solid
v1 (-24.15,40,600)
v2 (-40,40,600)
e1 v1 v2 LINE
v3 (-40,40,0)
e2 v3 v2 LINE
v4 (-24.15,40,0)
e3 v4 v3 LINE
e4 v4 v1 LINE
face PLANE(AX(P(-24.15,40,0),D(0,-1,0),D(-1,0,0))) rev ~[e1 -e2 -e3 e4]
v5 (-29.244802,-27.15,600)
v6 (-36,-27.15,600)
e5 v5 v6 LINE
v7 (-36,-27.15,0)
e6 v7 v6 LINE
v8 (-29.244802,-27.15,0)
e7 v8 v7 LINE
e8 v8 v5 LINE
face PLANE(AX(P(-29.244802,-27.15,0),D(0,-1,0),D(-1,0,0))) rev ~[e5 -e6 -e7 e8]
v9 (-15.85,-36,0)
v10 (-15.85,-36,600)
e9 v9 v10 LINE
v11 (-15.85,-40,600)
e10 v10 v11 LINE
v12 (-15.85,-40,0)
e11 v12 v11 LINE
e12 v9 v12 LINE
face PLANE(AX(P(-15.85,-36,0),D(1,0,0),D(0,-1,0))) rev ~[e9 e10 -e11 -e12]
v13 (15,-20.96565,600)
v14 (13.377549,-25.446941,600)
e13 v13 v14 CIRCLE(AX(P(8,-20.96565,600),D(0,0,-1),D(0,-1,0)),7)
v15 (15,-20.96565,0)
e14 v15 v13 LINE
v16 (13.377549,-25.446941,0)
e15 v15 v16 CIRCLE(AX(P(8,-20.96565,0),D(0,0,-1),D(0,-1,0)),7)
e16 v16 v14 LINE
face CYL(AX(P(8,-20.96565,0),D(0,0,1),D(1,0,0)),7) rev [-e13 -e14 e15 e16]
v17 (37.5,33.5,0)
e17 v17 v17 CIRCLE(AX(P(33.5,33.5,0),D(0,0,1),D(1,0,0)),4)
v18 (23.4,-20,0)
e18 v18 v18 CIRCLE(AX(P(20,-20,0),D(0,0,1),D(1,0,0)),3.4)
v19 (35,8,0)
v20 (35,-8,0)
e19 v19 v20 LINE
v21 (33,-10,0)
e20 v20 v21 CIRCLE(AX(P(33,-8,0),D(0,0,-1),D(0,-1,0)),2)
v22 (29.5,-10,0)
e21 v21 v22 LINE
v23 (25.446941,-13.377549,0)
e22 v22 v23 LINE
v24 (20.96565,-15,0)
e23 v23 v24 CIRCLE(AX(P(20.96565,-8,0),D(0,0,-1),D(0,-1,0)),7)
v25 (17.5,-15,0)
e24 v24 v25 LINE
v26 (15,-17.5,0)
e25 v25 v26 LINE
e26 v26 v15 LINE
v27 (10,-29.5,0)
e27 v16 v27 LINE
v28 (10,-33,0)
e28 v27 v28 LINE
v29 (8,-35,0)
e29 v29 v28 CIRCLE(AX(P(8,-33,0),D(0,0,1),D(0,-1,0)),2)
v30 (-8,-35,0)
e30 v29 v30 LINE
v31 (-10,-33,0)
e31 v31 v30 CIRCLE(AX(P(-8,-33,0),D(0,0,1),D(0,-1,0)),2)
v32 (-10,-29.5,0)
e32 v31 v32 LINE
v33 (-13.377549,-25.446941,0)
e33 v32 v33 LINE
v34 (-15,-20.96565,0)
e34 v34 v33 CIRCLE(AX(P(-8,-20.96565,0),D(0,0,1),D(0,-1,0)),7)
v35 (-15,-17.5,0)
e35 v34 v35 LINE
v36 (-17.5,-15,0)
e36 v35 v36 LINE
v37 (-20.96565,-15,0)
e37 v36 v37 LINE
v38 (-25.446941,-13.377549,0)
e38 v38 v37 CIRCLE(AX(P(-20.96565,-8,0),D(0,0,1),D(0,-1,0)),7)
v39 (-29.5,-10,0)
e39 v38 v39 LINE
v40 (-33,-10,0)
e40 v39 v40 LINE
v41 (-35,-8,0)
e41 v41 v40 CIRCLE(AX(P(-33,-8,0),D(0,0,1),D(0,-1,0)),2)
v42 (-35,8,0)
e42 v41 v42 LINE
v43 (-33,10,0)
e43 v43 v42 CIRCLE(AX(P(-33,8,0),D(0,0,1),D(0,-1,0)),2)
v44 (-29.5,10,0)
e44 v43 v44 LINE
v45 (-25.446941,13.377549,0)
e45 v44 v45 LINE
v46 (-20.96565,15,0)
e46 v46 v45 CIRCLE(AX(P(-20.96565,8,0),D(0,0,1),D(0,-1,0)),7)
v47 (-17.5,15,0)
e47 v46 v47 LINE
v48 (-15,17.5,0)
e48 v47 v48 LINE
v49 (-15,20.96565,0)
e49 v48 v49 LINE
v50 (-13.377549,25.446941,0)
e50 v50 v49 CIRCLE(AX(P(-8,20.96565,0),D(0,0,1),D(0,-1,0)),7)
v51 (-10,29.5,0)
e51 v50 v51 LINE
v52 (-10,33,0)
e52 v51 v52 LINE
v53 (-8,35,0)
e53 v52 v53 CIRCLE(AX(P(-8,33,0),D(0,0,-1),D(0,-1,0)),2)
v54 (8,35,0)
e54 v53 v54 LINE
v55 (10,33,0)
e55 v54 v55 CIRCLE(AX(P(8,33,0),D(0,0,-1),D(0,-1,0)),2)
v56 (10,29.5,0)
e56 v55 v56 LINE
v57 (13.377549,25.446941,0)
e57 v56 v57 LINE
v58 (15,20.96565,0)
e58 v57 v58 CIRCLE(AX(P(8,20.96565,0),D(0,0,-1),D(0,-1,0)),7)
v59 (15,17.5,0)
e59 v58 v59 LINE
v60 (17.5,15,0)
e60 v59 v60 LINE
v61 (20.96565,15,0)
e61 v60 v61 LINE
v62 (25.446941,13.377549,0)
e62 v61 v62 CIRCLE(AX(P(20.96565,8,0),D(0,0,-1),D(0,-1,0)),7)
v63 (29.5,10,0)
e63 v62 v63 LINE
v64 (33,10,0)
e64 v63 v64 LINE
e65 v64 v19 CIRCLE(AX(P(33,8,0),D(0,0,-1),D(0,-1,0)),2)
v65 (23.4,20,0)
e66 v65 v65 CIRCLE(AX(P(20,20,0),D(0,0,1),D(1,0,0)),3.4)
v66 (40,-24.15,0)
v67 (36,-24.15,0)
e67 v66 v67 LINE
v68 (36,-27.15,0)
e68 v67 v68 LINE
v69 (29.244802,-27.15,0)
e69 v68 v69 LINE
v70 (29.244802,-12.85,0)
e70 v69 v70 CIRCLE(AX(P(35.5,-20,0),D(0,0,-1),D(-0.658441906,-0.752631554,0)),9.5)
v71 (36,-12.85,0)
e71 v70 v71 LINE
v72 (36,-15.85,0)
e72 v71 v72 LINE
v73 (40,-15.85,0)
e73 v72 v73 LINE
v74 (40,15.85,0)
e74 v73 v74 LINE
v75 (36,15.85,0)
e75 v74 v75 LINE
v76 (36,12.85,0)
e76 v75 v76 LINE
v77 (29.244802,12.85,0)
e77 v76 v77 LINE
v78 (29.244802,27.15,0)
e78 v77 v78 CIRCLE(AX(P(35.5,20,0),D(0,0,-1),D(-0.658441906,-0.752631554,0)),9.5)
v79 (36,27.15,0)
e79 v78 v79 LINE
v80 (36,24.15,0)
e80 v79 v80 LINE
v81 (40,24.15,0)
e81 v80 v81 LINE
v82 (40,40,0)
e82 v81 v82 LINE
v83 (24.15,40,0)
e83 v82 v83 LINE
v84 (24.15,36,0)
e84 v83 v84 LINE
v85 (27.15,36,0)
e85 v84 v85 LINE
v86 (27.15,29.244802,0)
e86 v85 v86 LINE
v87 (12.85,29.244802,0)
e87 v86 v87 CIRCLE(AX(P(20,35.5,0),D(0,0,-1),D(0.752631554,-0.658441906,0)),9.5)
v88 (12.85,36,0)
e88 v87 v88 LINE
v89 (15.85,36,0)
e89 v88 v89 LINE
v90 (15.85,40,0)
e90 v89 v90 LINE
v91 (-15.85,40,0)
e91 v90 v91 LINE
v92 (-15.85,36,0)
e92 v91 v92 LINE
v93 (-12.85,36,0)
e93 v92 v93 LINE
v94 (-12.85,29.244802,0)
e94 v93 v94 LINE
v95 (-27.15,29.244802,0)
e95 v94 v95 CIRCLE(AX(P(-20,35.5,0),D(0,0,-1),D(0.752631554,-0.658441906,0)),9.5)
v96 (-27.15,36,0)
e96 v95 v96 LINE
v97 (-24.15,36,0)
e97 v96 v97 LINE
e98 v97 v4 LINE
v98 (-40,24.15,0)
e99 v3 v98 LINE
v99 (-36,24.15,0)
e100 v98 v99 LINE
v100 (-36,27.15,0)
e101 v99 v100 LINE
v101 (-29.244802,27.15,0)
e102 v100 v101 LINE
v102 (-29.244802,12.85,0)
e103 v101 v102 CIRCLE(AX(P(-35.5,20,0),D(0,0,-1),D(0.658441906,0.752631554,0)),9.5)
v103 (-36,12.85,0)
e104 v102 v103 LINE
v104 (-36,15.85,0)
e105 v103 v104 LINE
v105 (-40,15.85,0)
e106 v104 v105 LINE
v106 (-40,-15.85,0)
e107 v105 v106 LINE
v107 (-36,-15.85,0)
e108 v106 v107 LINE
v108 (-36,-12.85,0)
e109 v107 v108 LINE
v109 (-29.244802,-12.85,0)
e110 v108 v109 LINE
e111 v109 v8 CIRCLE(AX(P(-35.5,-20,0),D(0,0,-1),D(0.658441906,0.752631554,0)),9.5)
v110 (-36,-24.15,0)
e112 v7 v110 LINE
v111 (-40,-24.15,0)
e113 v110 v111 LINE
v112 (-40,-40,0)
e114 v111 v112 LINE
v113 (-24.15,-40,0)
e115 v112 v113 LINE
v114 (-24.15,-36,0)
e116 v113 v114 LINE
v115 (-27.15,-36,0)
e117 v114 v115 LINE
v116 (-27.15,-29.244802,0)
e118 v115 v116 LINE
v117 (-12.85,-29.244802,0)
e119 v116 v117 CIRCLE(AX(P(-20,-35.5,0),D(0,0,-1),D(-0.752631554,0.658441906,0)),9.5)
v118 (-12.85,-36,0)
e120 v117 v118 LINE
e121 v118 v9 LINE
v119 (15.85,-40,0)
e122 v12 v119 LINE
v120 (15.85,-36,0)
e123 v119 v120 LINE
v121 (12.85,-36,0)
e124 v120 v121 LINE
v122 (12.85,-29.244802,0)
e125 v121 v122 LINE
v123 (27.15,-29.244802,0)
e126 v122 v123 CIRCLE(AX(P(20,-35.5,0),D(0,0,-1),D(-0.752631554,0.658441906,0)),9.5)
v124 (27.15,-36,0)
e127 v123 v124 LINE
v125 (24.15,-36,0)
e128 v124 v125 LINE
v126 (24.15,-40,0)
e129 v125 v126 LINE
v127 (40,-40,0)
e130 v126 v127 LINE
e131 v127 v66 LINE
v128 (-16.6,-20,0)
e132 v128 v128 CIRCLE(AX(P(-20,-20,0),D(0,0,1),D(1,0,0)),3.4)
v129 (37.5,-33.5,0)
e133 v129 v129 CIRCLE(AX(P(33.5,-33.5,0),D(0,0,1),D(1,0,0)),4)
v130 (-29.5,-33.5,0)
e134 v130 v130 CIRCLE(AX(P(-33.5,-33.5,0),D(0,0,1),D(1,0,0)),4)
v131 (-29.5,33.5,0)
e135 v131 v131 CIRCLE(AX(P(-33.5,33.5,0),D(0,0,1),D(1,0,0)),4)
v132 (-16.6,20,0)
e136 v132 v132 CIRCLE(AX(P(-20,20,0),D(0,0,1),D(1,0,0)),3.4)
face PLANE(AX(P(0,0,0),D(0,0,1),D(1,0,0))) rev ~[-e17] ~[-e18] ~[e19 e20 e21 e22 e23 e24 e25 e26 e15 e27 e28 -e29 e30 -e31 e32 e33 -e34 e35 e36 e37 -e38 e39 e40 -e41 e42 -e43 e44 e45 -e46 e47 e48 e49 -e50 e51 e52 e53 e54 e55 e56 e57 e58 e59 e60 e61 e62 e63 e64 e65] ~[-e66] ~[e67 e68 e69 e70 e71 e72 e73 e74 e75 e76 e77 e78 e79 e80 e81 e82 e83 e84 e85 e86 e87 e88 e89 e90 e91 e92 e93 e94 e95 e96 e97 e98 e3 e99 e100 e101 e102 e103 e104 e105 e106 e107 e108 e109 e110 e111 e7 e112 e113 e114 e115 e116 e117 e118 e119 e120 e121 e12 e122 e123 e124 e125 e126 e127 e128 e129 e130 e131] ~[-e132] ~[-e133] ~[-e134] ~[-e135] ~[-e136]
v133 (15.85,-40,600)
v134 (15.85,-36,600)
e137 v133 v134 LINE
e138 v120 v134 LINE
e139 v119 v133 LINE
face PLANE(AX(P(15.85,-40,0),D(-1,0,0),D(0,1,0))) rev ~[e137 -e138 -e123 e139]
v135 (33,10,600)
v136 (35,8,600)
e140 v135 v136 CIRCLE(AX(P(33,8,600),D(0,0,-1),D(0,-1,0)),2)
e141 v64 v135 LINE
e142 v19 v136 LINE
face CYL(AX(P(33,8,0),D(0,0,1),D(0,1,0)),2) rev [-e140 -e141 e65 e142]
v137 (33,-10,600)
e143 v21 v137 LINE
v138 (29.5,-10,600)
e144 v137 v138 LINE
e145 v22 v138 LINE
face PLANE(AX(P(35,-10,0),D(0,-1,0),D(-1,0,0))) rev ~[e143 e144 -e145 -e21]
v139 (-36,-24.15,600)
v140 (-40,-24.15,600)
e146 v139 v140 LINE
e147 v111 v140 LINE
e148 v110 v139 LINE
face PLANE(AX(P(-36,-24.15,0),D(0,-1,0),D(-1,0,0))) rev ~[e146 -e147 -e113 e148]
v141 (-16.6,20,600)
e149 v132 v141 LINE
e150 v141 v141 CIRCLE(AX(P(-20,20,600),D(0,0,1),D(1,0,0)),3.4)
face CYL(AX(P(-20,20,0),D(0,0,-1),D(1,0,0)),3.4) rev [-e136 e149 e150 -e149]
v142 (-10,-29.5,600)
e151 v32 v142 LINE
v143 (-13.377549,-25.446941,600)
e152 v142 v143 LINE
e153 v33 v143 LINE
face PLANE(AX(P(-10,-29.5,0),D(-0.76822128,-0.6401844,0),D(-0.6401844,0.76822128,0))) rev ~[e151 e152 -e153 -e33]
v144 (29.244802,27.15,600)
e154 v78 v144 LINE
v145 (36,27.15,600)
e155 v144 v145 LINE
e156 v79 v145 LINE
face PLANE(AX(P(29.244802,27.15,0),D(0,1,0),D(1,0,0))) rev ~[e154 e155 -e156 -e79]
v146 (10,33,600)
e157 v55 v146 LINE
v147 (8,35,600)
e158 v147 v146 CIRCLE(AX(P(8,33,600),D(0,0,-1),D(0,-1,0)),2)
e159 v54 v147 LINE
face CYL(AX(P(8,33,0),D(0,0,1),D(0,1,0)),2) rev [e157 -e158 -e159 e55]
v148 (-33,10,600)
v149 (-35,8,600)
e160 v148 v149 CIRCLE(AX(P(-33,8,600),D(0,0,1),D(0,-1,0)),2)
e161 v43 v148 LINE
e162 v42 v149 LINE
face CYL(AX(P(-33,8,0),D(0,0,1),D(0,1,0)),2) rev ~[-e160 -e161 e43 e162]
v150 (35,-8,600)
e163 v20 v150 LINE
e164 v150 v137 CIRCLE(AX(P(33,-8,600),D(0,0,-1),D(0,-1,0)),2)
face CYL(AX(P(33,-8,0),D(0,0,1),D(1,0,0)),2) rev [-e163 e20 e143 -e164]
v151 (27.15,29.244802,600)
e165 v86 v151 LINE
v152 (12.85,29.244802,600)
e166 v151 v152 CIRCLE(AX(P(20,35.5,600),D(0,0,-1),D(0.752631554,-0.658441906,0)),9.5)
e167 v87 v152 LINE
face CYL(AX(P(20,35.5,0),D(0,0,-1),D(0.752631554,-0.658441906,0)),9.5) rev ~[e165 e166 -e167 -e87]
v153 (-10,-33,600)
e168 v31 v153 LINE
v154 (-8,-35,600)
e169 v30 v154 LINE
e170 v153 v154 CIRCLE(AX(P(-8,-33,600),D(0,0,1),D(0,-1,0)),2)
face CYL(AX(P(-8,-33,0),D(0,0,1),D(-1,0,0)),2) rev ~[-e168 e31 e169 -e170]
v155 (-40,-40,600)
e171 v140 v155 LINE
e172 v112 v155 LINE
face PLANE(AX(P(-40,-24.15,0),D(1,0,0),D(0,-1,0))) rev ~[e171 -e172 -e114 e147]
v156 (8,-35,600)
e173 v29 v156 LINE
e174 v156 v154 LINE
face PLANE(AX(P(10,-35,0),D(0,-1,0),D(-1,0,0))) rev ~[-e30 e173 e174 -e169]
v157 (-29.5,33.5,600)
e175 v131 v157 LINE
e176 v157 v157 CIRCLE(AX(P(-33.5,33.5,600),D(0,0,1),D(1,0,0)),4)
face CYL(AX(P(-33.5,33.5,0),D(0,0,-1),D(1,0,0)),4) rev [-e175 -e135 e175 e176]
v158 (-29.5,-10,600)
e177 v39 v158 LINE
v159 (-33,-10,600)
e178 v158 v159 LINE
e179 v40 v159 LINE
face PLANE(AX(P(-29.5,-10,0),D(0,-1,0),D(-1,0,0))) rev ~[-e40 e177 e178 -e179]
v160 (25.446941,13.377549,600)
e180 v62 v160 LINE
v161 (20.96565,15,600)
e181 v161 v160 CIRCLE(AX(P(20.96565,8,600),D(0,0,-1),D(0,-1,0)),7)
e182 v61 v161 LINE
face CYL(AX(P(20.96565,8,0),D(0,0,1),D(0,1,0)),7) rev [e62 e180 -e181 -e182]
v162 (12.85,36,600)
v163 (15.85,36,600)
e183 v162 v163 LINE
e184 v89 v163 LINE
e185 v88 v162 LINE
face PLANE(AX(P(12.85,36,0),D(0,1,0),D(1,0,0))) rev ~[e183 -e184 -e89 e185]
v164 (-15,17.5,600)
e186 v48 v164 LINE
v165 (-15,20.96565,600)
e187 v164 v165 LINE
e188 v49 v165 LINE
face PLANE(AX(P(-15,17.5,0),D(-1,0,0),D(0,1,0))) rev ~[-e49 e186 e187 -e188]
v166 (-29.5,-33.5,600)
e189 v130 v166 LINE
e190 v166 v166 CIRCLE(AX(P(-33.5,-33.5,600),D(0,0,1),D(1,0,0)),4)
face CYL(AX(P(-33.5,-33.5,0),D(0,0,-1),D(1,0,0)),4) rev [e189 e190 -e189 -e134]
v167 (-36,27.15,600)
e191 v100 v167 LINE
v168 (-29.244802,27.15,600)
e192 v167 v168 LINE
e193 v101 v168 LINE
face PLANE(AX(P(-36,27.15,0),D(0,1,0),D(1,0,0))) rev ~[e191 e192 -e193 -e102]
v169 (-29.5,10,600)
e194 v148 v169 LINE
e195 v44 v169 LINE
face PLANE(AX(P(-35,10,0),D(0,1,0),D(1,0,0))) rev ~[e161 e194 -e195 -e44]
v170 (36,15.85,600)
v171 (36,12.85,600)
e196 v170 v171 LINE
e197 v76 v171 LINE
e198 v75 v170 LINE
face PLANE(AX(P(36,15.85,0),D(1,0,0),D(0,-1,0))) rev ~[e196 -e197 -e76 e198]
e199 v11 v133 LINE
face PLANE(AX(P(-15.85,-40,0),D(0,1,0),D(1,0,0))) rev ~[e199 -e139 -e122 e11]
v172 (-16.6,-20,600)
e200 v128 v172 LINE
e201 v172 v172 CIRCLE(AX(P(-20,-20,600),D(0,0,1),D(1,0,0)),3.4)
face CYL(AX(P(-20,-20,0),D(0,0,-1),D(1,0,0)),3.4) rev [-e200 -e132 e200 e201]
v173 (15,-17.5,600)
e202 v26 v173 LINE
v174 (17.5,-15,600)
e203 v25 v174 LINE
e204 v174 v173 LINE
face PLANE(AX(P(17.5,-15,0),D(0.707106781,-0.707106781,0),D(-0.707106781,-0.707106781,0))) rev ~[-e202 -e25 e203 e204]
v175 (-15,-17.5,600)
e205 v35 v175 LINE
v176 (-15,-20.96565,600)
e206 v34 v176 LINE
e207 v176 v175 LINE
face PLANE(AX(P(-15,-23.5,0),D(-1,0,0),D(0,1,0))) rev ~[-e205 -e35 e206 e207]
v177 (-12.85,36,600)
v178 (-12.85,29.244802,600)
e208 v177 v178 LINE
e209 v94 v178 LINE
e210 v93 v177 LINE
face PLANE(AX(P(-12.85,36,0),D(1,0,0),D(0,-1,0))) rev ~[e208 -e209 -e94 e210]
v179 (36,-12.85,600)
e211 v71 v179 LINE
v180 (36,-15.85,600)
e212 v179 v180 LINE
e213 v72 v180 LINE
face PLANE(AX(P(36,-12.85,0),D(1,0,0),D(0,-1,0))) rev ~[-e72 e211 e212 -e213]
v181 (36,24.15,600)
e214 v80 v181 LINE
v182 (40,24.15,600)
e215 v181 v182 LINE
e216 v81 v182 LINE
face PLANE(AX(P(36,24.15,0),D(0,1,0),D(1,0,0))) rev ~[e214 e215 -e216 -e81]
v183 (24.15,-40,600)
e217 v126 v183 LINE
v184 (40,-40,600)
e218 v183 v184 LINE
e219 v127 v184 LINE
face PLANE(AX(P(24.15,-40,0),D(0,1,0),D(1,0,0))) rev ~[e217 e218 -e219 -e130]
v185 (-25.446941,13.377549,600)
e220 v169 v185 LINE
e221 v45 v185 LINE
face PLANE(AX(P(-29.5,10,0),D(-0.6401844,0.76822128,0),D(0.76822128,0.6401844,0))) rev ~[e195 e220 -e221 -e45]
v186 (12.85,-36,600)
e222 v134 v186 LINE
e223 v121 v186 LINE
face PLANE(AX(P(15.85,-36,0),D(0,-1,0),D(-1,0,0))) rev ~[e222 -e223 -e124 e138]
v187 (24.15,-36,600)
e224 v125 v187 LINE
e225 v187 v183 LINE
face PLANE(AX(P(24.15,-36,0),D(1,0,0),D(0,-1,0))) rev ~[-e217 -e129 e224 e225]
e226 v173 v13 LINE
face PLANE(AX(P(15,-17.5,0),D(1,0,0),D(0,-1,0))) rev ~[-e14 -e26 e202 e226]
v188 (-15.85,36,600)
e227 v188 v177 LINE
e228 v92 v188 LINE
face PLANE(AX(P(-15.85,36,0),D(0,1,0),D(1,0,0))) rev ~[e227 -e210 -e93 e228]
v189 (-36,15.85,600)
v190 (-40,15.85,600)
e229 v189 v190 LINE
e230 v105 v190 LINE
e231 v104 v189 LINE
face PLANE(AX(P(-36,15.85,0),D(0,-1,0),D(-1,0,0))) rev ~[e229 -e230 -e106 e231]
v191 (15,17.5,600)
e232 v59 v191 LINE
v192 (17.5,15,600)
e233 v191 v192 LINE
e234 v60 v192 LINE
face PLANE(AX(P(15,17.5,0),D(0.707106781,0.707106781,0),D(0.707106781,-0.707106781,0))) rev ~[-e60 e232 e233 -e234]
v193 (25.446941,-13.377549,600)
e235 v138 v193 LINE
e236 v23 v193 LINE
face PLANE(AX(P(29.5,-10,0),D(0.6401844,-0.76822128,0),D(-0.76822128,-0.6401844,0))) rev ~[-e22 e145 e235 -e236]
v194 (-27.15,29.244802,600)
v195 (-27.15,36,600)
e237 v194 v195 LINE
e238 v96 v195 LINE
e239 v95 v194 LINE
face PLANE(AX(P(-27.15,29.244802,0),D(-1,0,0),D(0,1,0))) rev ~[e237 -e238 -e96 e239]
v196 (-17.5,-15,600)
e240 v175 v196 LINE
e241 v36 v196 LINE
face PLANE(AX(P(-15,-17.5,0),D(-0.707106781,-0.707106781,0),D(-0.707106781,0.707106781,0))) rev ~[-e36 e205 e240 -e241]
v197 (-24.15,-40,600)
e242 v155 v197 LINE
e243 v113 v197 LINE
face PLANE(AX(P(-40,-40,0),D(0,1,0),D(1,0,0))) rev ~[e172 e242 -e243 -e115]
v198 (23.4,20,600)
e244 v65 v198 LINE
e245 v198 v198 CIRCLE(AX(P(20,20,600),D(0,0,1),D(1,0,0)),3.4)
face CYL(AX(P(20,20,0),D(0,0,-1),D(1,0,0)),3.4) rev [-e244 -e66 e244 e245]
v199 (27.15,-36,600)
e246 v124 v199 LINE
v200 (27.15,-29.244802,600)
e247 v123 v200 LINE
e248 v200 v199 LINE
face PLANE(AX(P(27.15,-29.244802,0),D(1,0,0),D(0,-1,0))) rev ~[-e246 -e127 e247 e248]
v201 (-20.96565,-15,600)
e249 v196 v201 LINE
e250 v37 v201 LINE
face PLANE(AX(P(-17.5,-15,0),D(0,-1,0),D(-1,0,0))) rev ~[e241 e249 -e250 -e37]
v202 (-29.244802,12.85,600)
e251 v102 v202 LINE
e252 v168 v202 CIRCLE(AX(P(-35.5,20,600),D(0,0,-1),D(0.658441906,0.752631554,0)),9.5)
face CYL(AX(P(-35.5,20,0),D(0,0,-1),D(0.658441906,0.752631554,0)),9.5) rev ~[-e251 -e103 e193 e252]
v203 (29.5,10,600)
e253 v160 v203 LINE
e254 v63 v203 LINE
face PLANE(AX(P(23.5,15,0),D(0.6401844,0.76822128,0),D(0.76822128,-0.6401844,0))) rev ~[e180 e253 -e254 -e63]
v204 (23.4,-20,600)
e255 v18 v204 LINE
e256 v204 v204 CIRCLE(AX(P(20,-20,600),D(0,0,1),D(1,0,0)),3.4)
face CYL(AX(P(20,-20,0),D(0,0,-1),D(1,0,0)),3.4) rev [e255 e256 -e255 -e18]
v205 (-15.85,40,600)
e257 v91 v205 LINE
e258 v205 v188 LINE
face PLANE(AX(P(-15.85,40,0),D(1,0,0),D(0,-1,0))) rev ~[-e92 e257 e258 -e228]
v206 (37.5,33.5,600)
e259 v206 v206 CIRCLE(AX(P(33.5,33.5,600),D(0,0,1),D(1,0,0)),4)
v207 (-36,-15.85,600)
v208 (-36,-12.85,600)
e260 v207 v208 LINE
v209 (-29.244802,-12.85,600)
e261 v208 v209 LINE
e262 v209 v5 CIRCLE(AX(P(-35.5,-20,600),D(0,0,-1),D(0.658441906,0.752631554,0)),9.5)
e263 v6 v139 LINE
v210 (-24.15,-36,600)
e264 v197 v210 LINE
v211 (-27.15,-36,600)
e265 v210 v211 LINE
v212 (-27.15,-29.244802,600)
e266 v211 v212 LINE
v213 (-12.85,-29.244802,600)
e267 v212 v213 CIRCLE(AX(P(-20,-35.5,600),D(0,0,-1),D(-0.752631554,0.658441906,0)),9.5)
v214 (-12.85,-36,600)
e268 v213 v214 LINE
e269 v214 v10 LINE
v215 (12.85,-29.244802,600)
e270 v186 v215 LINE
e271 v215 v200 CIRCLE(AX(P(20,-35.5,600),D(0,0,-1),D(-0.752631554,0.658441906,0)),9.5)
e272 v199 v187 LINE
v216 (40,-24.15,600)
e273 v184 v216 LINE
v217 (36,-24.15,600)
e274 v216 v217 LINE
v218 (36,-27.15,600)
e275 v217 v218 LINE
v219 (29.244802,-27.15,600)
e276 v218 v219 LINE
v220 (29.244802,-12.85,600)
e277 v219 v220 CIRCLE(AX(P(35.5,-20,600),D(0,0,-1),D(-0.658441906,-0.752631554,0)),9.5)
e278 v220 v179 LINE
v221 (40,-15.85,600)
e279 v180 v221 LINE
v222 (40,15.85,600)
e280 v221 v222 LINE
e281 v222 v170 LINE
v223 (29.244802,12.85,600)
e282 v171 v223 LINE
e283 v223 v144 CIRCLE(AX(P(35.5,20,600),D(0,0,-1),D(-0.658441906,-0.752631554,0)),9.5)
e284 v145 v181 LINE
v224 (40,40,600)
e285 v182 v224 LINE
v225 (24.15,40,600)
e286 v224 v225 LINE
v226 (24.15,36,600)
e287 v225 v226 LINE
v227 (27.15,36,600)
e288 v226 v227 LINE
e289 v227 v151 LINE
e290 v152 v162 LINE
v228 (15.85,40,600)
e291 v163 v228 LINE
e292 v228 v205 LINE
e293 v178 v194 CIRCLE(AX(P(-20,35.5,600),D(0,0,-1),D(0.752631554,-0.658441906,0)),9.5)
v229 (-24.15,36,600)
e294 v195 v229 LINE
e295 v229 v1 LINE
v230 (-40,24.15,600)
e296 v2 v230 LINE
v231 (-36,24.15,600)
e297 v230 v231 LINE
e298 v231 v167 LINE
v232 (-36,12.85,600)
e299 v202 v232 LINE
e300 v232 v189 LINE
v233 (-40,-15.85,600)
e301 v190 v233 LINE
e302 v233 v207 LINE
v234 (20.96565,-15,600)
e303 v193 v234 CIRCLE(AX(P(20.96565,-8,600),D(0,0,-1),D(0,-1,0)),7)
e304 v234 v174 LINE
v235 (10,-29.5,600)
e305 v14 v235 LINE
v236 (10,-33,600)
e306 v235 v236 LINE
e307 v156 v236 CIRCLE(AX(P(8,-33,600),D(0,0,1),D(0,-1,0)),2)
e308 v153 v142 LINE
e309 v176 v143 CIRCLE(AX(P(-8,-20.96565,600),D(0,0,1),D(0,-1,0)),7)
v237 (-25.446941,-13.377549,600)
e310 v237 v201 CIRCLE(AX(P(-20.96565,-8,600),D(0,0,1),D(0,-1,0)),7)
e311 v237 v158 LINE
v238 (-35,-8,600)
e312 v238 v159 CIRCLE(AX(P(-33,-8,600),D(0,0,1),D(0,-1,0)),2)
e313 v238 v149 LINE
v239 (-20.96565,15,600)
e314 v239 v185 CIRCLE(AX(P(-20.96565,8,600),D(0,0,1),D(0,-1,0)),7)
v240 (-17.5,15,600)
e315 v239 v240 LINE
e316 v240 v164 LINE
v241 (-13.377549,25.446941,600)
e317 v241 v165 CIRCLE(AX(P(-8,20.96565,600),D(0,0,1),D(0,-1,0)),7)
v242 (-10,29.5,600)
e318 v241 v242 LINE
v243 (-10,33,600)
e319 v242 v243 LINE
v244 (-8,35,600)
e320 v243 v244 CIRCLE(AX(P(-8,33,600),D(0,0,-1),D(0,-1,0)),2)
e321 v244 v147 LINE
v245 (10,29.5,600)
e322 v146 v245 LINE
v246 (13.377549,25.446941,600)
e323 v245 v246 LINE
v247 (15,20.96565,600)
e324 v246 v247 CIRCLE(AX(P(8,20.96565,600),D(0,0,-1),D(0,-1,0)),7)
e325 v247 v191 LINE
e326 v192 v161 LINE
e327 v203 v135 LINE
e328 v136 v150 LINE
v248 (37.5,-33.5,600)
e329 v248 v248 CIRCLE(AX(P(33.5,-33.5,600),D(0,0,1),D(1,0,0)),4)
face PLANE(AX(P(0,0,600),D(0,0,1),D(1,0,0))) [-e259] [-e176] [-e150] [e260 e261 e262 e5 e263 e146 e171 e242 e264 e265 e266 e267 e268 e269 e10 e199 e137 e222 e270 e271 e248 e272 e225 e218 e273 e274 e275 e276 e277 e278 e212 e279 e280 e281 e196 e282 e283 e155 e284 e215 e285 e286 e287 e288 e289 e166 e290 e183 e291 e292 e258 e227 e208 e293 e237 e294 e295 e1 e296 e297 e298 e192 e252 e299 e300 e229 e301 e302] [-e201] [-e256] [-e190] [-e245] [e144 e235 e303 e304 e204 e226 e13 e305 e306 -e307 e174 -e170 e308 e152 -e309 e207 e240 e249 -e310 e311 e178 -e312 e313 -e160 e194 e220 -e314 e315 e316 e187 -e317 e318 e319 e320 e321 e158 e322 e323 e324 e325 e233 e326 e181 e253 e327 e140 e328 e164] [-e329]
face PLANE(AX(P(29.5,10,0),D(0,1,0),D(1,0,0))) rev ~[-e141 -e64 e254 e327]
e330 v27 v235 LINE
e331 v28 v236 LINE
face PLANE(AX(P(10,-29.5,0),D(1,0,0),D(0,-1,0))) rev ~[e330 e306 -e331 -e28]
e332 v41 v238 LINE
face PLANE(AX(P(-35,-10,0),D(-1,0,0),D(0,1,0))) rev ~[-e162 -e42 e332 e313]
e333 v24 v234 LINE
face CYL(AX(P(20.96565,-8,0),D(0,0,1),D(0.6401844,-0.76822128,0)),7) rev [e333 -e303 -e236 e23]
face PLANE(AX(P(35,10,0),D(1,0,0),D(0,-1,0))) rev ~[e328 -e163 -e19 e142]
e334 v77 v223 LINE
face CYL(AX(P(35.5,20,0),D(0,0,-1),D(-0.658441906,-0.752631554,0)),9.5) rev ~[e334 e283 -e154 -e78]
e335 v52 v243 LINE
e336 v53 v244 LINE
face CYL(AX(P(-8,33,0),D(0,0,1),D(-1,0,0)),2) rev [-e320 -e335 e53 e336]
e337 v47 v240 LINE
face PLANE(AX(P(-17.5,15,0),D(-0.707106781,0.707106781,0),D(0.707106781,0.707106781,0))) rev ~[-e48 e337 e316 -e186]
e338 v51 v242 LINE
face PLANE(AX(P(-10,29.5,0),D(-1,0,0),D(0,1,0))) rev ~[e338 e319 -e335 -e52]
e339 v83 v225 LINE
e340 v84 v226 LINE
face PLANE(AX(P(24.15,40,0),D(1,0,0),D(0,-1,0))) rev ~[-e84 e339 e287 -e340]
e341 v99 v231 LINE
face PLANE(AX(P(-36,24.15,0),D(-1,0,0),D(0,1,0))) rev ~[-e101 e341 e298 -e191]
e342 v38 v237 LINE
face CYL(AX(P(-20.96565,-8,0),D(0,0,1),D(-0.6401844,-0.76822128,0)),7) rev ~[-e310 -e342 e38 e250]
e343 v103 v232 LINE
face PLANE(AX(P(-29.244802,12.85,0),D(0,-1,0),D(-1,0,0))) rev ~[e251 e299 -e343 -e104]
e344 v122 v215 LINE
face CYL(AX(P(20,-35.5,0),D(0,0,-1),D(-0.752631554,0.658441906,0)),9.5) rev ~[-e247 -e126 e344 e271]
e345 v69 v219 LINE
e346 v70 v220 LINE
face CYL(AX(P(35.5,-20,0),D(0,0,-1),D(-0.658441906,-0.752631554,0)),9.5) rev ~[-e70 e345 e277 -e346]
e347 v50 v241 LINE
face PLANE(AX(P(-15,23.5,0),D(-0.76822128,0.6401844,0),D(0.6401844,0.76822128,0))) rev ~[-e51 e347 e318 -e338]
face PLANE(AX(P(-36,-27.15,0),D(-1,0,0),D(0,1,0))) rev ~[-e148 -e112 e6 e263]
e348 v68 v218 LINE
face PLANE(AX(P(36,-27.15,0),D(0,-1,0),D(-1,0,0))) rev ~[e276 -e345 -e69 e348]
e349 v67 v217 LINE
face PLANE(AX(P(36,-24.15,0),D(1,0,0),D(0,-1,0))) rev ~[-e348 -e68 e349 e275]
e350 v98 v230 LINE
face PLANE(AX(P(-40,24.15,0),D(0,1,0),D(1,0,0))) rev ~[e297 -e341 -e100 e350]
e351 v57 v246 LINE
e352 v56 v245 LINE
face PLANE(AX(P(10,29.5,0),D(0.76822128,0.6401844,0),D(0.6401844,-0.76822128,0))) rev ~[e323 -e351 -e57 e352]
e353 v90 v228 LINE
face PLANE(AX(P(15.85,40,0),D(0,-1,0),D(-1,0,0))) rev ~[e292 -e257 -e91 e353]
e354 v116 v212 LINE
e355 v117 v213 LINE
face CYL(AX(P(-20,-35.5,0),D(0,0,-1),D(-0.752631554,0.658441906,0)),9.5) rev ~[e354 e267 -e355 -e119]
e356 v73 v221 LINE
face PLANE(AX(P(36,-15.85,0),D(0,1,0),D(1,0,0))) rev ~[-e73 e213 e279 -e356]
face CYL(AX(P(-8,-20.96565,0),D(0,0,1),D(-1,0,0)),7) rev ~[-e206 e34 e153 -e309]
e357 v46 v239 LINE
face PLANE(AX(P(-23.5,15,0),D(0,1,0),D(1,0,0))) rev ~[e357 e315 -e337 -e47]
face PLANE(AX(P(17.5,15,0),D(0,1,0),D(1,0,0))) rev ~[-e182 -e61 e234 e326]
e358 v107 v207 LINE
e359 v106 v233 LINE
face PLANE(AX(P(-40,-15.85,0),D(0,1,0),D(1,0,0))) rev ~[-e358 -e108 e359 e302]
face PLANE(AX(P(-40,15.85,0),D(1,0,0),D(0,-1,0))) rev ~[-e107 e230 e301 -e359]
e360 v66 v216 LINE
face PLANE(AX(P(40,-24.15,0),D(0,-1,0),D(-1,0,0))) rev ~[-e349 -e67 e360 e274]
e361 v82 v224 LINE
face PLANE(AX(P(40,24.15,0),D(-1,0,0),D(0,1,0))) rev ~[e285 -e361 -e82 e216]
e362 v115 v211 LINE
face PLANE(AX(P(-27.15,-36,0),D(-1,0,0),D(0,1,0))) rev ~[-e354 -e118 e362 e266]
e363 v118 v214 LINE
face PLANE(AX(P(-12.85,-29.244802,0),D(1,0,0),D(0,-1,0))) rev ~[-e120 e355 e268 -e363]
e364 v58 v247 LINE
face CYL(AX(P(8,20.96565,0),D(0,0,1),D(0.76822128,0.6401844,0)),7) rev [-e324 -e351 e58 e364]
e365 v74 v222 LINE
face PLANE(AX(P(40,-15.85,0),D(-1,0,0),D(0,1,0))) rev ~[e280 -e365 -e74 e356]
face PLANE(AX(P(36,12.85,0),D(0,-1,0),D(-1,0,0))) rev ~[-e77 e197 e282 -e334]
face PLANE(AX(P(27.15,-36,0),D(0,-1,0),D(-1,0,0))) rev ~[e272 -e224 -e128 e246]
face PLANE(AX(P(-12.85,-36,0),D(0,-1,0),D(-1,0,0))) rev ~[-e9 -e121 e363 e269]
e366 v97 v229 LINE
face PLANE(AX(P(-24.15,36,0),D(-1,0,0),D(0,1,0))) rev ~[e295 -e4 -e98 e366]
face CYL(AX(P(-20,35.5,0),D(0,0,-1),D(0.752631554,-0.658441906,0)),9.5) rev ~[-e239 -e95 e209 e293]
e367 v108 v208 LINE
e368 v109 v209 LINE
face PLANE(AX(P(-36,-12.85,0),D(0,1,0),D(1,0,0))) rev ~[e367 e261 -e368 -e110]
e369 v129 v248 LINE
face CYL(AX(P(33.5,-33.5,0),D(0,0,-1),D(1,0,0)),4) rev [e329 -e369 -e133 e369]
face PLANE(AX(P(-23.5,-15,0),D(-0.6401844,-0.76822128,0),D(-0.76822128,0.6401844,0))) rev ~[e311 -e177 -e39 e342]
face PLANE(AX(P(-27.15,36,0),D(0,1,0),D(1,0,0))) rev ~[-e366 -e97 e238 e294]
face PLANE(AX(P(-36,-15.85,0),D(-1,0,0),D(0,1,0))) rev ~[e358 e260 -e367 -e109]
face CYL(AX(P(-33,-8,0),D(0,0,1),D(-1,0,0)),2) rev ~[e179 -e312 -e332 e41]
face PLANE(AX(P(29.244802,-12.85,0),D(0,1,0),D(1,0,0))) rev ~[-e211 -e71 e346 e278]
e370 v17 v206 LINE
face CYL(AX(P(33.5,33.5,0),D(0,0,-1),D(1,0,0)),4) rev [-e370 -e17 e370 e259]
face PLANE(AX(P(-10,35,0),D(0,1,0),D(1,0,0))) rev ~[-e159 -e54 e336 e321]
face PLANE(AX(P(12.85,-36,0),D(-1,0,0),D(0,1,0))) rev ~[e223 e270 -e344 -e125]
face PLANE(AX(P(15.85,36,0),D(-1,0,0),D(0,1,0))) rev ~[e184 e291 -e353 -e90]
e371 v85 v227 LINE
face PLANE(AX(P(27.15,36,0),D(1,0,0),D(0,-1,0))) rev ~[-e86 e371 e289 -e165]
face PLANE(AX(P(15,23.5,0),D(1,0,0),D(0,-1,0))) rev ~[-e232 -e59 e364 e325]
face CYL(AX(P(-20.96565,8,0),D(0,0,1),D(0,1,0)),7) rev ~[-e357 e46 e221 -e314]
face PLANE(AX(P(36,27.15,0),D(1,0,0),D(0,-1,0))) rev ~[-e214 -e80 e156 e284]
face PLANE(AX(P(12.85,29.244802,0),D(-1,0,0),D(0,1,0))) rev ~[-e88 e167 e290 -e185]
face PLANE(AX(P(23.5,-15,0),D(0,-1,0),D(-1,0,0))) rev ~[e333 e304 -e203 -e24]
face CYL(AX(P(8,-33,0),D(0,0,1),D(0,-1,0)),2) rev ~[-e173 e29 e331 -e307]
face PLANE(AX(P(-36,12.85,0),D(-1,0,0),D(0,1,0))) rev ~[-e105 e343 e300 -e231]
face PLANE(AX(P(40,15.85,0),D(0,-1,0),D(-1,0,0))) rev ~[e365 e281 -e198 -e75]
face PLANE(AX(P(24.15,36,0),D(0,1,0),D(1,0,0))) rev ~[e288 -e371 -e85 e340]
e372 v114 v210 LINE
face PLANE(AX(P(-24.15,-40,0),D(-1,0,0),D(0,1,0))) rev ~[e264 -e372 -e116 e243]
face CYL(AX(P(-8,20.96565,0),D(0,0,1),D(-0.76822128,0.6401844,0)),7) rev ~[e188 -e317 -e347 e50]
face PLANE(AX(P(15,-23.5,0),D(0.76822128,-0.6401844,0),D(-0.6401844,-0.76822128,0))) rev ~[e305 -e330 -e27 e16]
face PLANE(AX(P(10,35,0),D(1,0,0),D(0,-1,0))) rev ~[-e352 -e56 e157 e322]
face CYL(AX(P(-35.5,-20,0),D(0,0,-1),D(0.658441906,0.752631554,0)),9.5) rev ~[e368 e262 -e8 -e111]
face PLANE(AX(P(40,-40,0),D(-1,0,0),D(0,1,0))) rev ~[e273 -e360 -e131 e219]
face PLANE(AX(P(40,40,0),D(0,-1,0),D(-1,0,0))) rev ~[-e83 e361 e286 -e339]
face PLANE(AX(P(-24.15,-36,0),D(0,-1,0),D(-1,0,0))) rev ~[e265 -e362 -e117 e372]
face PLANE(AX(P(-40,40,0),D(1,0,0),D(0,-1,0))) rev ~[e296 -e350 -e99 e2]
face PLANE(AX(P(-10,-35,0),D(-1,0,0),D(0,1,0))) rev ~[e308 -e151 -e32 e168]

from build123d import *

# Parameters (mm, degrees)
F0_R     = 4
F0_R_2   = 3.4
F1_DEPTH = 600
F2_R     = 2
F3_R     = 7


with BuildPart() as f1:
    # F0 (on Top) → F1 (new body)
    with BuildSketch(Plane.XY):
        with BuildLine():
            Line((24.15, -40), (40, -40))
            Line((40, -40), (40, -24.15))
            Line((40, -24.15), (36, -24.15))
            Line((36, -24.15), (36, -27.15))
            Line((36, -27.15), (29.244802, -27.15))
            ThreePointArc((29.244802, -27.15), (26, -20), (29.244802, -12.85))
            Line((29.244802, -12.85), (36, -12.85))
            Line((36, -12.85), (36, -15.85))
            Line((36, -15.85), (40, -15.85))
            Line((40, -15.85), (40, 15.85))
            Line((40, 15.85), (36, 15.85))
            Line((36, 15.85), (36, 12.85))
            Line((36, 12.85), (29.244802, 12.85))
            ThreePointArc((29.244802, 12.85), (26, 20), (29.244802, 27.15))
            Line((29.244802, 27.15), (36, 27.15))
            Line((36, 27.15), (36, 24.15))
            Line((36, 24.15), (40, 24.15))
            Line((40, 24.15), (40, 40))
            Line((40, 40), (24.15, 40))
            Line((24.15, 40), (24.15, 36))
            Line((24.15, 36), (27.15, 36))
            Line((27.15, 36), (27.15, 29.244802))
            ThreePointArc((27.15, 29.244802), (20, 26), (12.85, 29.244802))
            Line((12.85, 29.244802), (12.85, 36))
            Line((12.85, 36), (15.85, 36))
            Line((15.85, 36), (15.85, 40))
            Line((15.85, 40), (-15.85, 40))
            Line((-15.85, 40), (-15.85, 36))
            Line((-15.85, 36), (-12.85, 36))
            Line((-12.85, 36), (-12.85, 29.244802))
            ThreePointArc((-12.85, 29.244802), (-20, 26), (-27.15, 29.244802))
            Line((-27.15, 29.244802), (-27.15, 36))
            Line((-27.15, 36), (-24.15, 36))
            Line((-24.15, 36), (-24.15, 40))
            Line((-24.15, 40), (-40, 40))
            Line((-40, 40), (-40, 24.15))
            Line((-40, 24.15), (-36, 24.15))
            Line((-36, 24.15), (-36, 27.15))
            Line((-36, 27.15), (-29.244802, 27.15))
            ThreePointArc((-29.244802, 27.15), (-26, 20), (-29.244802, 12.85))
            Line((-29.244802, 12.85), (-36, 12.85))
            Line((-36, 12.85), (-36, 15.85))
            Line((-36, 15.85), (-40, 15.85))
            Line((-40, 15.85), (-40, -15.85))
            Line((-40, -15.85), (-36, -15.85))
            Line((-36, -15.85), (-36, -12.85))
            Line((-36, -12.85), (-29.244802, -12.85))
            ThreePointArc((-29.244802, -12.85), (-26, -20), (-29.244802, -27.15))
            Line((-29.244802, -27.15), (-36, -27.15))
            Line((-36, -27.15), (-36, -24.15))
            Line((-36, -24.15), (-40, -24.15))
            Line((-40, -24.15), (-40, -40))
            Line((-40, -40), (-24.15, -40))
            Line((-24.15, -40), (-24.15, -36))
            Line((-24.15, -36), (-27.15, -36))
            Line((-27.15, -36), (-27.15, -29.244802))
            ThreePointArc((-27.15, -29.244802), (-20, -26), (-12.85, -29.244802))
            Line((-12.85, -29.244802), (-12.85, -36))
            Line((-12.85, -36), (-15.85, -36))
            Line((-15.85, -36), (-15.85, -40))
            Line((-15.85, -40), (15.85, -40))
            Line((15.85, -40), (15.85, -36))
            Line((15.85, -36), (12.85, -36))
            Line((12.85, -36), (12.85, -29.244802))
            ThreePointArc((12.85, -29.244802), (20, -26), (27.15, -29.244802))
            Line((27.15, -29.244802), (27.15, -36))
            Line((27.15, -36), (24.15, -36))
            Line((24.15, -36), (24.15, -40))
        make_face()
        with Locations((-33.5, -33.5)):
            Circle(F0_R, mode=Mode.SUBTRACT)
        with Locations((-20, -20)):
            Circle(F0_R_2, mode=Mode.SUBTRACT)
        with Locations((33.5, -33.5)):
            Circle(F0_R, mode=Mode.SUBTRACT)
        with Locations((20, -20)):
            Circle(F0_R_2, mode=Mode.SUBTRACT)
        with Locations((-33.5, 33.5)):
            Circle(F0_R, mode=Mode.SUBTRACT)
        with Locations((-20, 20)):
            Circle(F0_R_2, mode=Mode.SUBTRACT)
        Polygon((-10, 29.5), (-10, 35), (0, 35), (10, 35), (10, 29.5), (15, 23.5), (15, 17.5), (17.5, 15), (23.5, 15), (29.5, 10), (35, 10), (35, 0), (35, -10), (29.5, -10), (23.5, -15), (17.5, -15), (15, -17.5), (15, -23.5), (10, -29.5), (10, -35), (0, -35), (-10, -35), (-10, -29.5), (-15, -23.5), (-15, -17.5), (-17.5, -15), (-23.5, -15), (-29.5, -10), (-35, -10), (-35, 0), (-35, 10), (-29.5, 10), (-23.5, 15), (-17.5, 15), (-15, 17.5), (-15, 23.5), align=None, mode=Mode.SUBTRACT)
        with Locations((20, 20)):
            Circle(F0_R_2, mode=Mode.SUBTRACT)
        with Locations((33.5, 33.5)):
            Circle(F0_R, mode=Mode.SUBTRACT)
    extrude(amount=F1_DEPTH)

    # F2
    f2_edges = [f1.edges().sort_by_distance(p)[0] for p in [
        (-10, 35, 300),
        (10, 35, 300),
        (35, 10, 300),
        (35, -10, 300),
        (-35, 10, 300),
        (-35, -10, 300),
        (10, -35, 300),
        (-10, -35, 300),
    ]]
    fillet(f2_edges, radius=F2_R)

    # F3
    f3_edges = [f1.edges().sort_by_distance(p)[0] for p in [
        (-15, 23.5, 300),
        (15, 23.5, 300),
        (23.5, 15, 300),
        (-23.5, 15, 300),
        (-23.5, -15, 300),
        (23.5, -15, 300),
        (15, -23.5, 300),
        (-15, -23.5, 300),
    ]]
    fillet(f3_edges, radius=F3_R)


solid = f1.part
